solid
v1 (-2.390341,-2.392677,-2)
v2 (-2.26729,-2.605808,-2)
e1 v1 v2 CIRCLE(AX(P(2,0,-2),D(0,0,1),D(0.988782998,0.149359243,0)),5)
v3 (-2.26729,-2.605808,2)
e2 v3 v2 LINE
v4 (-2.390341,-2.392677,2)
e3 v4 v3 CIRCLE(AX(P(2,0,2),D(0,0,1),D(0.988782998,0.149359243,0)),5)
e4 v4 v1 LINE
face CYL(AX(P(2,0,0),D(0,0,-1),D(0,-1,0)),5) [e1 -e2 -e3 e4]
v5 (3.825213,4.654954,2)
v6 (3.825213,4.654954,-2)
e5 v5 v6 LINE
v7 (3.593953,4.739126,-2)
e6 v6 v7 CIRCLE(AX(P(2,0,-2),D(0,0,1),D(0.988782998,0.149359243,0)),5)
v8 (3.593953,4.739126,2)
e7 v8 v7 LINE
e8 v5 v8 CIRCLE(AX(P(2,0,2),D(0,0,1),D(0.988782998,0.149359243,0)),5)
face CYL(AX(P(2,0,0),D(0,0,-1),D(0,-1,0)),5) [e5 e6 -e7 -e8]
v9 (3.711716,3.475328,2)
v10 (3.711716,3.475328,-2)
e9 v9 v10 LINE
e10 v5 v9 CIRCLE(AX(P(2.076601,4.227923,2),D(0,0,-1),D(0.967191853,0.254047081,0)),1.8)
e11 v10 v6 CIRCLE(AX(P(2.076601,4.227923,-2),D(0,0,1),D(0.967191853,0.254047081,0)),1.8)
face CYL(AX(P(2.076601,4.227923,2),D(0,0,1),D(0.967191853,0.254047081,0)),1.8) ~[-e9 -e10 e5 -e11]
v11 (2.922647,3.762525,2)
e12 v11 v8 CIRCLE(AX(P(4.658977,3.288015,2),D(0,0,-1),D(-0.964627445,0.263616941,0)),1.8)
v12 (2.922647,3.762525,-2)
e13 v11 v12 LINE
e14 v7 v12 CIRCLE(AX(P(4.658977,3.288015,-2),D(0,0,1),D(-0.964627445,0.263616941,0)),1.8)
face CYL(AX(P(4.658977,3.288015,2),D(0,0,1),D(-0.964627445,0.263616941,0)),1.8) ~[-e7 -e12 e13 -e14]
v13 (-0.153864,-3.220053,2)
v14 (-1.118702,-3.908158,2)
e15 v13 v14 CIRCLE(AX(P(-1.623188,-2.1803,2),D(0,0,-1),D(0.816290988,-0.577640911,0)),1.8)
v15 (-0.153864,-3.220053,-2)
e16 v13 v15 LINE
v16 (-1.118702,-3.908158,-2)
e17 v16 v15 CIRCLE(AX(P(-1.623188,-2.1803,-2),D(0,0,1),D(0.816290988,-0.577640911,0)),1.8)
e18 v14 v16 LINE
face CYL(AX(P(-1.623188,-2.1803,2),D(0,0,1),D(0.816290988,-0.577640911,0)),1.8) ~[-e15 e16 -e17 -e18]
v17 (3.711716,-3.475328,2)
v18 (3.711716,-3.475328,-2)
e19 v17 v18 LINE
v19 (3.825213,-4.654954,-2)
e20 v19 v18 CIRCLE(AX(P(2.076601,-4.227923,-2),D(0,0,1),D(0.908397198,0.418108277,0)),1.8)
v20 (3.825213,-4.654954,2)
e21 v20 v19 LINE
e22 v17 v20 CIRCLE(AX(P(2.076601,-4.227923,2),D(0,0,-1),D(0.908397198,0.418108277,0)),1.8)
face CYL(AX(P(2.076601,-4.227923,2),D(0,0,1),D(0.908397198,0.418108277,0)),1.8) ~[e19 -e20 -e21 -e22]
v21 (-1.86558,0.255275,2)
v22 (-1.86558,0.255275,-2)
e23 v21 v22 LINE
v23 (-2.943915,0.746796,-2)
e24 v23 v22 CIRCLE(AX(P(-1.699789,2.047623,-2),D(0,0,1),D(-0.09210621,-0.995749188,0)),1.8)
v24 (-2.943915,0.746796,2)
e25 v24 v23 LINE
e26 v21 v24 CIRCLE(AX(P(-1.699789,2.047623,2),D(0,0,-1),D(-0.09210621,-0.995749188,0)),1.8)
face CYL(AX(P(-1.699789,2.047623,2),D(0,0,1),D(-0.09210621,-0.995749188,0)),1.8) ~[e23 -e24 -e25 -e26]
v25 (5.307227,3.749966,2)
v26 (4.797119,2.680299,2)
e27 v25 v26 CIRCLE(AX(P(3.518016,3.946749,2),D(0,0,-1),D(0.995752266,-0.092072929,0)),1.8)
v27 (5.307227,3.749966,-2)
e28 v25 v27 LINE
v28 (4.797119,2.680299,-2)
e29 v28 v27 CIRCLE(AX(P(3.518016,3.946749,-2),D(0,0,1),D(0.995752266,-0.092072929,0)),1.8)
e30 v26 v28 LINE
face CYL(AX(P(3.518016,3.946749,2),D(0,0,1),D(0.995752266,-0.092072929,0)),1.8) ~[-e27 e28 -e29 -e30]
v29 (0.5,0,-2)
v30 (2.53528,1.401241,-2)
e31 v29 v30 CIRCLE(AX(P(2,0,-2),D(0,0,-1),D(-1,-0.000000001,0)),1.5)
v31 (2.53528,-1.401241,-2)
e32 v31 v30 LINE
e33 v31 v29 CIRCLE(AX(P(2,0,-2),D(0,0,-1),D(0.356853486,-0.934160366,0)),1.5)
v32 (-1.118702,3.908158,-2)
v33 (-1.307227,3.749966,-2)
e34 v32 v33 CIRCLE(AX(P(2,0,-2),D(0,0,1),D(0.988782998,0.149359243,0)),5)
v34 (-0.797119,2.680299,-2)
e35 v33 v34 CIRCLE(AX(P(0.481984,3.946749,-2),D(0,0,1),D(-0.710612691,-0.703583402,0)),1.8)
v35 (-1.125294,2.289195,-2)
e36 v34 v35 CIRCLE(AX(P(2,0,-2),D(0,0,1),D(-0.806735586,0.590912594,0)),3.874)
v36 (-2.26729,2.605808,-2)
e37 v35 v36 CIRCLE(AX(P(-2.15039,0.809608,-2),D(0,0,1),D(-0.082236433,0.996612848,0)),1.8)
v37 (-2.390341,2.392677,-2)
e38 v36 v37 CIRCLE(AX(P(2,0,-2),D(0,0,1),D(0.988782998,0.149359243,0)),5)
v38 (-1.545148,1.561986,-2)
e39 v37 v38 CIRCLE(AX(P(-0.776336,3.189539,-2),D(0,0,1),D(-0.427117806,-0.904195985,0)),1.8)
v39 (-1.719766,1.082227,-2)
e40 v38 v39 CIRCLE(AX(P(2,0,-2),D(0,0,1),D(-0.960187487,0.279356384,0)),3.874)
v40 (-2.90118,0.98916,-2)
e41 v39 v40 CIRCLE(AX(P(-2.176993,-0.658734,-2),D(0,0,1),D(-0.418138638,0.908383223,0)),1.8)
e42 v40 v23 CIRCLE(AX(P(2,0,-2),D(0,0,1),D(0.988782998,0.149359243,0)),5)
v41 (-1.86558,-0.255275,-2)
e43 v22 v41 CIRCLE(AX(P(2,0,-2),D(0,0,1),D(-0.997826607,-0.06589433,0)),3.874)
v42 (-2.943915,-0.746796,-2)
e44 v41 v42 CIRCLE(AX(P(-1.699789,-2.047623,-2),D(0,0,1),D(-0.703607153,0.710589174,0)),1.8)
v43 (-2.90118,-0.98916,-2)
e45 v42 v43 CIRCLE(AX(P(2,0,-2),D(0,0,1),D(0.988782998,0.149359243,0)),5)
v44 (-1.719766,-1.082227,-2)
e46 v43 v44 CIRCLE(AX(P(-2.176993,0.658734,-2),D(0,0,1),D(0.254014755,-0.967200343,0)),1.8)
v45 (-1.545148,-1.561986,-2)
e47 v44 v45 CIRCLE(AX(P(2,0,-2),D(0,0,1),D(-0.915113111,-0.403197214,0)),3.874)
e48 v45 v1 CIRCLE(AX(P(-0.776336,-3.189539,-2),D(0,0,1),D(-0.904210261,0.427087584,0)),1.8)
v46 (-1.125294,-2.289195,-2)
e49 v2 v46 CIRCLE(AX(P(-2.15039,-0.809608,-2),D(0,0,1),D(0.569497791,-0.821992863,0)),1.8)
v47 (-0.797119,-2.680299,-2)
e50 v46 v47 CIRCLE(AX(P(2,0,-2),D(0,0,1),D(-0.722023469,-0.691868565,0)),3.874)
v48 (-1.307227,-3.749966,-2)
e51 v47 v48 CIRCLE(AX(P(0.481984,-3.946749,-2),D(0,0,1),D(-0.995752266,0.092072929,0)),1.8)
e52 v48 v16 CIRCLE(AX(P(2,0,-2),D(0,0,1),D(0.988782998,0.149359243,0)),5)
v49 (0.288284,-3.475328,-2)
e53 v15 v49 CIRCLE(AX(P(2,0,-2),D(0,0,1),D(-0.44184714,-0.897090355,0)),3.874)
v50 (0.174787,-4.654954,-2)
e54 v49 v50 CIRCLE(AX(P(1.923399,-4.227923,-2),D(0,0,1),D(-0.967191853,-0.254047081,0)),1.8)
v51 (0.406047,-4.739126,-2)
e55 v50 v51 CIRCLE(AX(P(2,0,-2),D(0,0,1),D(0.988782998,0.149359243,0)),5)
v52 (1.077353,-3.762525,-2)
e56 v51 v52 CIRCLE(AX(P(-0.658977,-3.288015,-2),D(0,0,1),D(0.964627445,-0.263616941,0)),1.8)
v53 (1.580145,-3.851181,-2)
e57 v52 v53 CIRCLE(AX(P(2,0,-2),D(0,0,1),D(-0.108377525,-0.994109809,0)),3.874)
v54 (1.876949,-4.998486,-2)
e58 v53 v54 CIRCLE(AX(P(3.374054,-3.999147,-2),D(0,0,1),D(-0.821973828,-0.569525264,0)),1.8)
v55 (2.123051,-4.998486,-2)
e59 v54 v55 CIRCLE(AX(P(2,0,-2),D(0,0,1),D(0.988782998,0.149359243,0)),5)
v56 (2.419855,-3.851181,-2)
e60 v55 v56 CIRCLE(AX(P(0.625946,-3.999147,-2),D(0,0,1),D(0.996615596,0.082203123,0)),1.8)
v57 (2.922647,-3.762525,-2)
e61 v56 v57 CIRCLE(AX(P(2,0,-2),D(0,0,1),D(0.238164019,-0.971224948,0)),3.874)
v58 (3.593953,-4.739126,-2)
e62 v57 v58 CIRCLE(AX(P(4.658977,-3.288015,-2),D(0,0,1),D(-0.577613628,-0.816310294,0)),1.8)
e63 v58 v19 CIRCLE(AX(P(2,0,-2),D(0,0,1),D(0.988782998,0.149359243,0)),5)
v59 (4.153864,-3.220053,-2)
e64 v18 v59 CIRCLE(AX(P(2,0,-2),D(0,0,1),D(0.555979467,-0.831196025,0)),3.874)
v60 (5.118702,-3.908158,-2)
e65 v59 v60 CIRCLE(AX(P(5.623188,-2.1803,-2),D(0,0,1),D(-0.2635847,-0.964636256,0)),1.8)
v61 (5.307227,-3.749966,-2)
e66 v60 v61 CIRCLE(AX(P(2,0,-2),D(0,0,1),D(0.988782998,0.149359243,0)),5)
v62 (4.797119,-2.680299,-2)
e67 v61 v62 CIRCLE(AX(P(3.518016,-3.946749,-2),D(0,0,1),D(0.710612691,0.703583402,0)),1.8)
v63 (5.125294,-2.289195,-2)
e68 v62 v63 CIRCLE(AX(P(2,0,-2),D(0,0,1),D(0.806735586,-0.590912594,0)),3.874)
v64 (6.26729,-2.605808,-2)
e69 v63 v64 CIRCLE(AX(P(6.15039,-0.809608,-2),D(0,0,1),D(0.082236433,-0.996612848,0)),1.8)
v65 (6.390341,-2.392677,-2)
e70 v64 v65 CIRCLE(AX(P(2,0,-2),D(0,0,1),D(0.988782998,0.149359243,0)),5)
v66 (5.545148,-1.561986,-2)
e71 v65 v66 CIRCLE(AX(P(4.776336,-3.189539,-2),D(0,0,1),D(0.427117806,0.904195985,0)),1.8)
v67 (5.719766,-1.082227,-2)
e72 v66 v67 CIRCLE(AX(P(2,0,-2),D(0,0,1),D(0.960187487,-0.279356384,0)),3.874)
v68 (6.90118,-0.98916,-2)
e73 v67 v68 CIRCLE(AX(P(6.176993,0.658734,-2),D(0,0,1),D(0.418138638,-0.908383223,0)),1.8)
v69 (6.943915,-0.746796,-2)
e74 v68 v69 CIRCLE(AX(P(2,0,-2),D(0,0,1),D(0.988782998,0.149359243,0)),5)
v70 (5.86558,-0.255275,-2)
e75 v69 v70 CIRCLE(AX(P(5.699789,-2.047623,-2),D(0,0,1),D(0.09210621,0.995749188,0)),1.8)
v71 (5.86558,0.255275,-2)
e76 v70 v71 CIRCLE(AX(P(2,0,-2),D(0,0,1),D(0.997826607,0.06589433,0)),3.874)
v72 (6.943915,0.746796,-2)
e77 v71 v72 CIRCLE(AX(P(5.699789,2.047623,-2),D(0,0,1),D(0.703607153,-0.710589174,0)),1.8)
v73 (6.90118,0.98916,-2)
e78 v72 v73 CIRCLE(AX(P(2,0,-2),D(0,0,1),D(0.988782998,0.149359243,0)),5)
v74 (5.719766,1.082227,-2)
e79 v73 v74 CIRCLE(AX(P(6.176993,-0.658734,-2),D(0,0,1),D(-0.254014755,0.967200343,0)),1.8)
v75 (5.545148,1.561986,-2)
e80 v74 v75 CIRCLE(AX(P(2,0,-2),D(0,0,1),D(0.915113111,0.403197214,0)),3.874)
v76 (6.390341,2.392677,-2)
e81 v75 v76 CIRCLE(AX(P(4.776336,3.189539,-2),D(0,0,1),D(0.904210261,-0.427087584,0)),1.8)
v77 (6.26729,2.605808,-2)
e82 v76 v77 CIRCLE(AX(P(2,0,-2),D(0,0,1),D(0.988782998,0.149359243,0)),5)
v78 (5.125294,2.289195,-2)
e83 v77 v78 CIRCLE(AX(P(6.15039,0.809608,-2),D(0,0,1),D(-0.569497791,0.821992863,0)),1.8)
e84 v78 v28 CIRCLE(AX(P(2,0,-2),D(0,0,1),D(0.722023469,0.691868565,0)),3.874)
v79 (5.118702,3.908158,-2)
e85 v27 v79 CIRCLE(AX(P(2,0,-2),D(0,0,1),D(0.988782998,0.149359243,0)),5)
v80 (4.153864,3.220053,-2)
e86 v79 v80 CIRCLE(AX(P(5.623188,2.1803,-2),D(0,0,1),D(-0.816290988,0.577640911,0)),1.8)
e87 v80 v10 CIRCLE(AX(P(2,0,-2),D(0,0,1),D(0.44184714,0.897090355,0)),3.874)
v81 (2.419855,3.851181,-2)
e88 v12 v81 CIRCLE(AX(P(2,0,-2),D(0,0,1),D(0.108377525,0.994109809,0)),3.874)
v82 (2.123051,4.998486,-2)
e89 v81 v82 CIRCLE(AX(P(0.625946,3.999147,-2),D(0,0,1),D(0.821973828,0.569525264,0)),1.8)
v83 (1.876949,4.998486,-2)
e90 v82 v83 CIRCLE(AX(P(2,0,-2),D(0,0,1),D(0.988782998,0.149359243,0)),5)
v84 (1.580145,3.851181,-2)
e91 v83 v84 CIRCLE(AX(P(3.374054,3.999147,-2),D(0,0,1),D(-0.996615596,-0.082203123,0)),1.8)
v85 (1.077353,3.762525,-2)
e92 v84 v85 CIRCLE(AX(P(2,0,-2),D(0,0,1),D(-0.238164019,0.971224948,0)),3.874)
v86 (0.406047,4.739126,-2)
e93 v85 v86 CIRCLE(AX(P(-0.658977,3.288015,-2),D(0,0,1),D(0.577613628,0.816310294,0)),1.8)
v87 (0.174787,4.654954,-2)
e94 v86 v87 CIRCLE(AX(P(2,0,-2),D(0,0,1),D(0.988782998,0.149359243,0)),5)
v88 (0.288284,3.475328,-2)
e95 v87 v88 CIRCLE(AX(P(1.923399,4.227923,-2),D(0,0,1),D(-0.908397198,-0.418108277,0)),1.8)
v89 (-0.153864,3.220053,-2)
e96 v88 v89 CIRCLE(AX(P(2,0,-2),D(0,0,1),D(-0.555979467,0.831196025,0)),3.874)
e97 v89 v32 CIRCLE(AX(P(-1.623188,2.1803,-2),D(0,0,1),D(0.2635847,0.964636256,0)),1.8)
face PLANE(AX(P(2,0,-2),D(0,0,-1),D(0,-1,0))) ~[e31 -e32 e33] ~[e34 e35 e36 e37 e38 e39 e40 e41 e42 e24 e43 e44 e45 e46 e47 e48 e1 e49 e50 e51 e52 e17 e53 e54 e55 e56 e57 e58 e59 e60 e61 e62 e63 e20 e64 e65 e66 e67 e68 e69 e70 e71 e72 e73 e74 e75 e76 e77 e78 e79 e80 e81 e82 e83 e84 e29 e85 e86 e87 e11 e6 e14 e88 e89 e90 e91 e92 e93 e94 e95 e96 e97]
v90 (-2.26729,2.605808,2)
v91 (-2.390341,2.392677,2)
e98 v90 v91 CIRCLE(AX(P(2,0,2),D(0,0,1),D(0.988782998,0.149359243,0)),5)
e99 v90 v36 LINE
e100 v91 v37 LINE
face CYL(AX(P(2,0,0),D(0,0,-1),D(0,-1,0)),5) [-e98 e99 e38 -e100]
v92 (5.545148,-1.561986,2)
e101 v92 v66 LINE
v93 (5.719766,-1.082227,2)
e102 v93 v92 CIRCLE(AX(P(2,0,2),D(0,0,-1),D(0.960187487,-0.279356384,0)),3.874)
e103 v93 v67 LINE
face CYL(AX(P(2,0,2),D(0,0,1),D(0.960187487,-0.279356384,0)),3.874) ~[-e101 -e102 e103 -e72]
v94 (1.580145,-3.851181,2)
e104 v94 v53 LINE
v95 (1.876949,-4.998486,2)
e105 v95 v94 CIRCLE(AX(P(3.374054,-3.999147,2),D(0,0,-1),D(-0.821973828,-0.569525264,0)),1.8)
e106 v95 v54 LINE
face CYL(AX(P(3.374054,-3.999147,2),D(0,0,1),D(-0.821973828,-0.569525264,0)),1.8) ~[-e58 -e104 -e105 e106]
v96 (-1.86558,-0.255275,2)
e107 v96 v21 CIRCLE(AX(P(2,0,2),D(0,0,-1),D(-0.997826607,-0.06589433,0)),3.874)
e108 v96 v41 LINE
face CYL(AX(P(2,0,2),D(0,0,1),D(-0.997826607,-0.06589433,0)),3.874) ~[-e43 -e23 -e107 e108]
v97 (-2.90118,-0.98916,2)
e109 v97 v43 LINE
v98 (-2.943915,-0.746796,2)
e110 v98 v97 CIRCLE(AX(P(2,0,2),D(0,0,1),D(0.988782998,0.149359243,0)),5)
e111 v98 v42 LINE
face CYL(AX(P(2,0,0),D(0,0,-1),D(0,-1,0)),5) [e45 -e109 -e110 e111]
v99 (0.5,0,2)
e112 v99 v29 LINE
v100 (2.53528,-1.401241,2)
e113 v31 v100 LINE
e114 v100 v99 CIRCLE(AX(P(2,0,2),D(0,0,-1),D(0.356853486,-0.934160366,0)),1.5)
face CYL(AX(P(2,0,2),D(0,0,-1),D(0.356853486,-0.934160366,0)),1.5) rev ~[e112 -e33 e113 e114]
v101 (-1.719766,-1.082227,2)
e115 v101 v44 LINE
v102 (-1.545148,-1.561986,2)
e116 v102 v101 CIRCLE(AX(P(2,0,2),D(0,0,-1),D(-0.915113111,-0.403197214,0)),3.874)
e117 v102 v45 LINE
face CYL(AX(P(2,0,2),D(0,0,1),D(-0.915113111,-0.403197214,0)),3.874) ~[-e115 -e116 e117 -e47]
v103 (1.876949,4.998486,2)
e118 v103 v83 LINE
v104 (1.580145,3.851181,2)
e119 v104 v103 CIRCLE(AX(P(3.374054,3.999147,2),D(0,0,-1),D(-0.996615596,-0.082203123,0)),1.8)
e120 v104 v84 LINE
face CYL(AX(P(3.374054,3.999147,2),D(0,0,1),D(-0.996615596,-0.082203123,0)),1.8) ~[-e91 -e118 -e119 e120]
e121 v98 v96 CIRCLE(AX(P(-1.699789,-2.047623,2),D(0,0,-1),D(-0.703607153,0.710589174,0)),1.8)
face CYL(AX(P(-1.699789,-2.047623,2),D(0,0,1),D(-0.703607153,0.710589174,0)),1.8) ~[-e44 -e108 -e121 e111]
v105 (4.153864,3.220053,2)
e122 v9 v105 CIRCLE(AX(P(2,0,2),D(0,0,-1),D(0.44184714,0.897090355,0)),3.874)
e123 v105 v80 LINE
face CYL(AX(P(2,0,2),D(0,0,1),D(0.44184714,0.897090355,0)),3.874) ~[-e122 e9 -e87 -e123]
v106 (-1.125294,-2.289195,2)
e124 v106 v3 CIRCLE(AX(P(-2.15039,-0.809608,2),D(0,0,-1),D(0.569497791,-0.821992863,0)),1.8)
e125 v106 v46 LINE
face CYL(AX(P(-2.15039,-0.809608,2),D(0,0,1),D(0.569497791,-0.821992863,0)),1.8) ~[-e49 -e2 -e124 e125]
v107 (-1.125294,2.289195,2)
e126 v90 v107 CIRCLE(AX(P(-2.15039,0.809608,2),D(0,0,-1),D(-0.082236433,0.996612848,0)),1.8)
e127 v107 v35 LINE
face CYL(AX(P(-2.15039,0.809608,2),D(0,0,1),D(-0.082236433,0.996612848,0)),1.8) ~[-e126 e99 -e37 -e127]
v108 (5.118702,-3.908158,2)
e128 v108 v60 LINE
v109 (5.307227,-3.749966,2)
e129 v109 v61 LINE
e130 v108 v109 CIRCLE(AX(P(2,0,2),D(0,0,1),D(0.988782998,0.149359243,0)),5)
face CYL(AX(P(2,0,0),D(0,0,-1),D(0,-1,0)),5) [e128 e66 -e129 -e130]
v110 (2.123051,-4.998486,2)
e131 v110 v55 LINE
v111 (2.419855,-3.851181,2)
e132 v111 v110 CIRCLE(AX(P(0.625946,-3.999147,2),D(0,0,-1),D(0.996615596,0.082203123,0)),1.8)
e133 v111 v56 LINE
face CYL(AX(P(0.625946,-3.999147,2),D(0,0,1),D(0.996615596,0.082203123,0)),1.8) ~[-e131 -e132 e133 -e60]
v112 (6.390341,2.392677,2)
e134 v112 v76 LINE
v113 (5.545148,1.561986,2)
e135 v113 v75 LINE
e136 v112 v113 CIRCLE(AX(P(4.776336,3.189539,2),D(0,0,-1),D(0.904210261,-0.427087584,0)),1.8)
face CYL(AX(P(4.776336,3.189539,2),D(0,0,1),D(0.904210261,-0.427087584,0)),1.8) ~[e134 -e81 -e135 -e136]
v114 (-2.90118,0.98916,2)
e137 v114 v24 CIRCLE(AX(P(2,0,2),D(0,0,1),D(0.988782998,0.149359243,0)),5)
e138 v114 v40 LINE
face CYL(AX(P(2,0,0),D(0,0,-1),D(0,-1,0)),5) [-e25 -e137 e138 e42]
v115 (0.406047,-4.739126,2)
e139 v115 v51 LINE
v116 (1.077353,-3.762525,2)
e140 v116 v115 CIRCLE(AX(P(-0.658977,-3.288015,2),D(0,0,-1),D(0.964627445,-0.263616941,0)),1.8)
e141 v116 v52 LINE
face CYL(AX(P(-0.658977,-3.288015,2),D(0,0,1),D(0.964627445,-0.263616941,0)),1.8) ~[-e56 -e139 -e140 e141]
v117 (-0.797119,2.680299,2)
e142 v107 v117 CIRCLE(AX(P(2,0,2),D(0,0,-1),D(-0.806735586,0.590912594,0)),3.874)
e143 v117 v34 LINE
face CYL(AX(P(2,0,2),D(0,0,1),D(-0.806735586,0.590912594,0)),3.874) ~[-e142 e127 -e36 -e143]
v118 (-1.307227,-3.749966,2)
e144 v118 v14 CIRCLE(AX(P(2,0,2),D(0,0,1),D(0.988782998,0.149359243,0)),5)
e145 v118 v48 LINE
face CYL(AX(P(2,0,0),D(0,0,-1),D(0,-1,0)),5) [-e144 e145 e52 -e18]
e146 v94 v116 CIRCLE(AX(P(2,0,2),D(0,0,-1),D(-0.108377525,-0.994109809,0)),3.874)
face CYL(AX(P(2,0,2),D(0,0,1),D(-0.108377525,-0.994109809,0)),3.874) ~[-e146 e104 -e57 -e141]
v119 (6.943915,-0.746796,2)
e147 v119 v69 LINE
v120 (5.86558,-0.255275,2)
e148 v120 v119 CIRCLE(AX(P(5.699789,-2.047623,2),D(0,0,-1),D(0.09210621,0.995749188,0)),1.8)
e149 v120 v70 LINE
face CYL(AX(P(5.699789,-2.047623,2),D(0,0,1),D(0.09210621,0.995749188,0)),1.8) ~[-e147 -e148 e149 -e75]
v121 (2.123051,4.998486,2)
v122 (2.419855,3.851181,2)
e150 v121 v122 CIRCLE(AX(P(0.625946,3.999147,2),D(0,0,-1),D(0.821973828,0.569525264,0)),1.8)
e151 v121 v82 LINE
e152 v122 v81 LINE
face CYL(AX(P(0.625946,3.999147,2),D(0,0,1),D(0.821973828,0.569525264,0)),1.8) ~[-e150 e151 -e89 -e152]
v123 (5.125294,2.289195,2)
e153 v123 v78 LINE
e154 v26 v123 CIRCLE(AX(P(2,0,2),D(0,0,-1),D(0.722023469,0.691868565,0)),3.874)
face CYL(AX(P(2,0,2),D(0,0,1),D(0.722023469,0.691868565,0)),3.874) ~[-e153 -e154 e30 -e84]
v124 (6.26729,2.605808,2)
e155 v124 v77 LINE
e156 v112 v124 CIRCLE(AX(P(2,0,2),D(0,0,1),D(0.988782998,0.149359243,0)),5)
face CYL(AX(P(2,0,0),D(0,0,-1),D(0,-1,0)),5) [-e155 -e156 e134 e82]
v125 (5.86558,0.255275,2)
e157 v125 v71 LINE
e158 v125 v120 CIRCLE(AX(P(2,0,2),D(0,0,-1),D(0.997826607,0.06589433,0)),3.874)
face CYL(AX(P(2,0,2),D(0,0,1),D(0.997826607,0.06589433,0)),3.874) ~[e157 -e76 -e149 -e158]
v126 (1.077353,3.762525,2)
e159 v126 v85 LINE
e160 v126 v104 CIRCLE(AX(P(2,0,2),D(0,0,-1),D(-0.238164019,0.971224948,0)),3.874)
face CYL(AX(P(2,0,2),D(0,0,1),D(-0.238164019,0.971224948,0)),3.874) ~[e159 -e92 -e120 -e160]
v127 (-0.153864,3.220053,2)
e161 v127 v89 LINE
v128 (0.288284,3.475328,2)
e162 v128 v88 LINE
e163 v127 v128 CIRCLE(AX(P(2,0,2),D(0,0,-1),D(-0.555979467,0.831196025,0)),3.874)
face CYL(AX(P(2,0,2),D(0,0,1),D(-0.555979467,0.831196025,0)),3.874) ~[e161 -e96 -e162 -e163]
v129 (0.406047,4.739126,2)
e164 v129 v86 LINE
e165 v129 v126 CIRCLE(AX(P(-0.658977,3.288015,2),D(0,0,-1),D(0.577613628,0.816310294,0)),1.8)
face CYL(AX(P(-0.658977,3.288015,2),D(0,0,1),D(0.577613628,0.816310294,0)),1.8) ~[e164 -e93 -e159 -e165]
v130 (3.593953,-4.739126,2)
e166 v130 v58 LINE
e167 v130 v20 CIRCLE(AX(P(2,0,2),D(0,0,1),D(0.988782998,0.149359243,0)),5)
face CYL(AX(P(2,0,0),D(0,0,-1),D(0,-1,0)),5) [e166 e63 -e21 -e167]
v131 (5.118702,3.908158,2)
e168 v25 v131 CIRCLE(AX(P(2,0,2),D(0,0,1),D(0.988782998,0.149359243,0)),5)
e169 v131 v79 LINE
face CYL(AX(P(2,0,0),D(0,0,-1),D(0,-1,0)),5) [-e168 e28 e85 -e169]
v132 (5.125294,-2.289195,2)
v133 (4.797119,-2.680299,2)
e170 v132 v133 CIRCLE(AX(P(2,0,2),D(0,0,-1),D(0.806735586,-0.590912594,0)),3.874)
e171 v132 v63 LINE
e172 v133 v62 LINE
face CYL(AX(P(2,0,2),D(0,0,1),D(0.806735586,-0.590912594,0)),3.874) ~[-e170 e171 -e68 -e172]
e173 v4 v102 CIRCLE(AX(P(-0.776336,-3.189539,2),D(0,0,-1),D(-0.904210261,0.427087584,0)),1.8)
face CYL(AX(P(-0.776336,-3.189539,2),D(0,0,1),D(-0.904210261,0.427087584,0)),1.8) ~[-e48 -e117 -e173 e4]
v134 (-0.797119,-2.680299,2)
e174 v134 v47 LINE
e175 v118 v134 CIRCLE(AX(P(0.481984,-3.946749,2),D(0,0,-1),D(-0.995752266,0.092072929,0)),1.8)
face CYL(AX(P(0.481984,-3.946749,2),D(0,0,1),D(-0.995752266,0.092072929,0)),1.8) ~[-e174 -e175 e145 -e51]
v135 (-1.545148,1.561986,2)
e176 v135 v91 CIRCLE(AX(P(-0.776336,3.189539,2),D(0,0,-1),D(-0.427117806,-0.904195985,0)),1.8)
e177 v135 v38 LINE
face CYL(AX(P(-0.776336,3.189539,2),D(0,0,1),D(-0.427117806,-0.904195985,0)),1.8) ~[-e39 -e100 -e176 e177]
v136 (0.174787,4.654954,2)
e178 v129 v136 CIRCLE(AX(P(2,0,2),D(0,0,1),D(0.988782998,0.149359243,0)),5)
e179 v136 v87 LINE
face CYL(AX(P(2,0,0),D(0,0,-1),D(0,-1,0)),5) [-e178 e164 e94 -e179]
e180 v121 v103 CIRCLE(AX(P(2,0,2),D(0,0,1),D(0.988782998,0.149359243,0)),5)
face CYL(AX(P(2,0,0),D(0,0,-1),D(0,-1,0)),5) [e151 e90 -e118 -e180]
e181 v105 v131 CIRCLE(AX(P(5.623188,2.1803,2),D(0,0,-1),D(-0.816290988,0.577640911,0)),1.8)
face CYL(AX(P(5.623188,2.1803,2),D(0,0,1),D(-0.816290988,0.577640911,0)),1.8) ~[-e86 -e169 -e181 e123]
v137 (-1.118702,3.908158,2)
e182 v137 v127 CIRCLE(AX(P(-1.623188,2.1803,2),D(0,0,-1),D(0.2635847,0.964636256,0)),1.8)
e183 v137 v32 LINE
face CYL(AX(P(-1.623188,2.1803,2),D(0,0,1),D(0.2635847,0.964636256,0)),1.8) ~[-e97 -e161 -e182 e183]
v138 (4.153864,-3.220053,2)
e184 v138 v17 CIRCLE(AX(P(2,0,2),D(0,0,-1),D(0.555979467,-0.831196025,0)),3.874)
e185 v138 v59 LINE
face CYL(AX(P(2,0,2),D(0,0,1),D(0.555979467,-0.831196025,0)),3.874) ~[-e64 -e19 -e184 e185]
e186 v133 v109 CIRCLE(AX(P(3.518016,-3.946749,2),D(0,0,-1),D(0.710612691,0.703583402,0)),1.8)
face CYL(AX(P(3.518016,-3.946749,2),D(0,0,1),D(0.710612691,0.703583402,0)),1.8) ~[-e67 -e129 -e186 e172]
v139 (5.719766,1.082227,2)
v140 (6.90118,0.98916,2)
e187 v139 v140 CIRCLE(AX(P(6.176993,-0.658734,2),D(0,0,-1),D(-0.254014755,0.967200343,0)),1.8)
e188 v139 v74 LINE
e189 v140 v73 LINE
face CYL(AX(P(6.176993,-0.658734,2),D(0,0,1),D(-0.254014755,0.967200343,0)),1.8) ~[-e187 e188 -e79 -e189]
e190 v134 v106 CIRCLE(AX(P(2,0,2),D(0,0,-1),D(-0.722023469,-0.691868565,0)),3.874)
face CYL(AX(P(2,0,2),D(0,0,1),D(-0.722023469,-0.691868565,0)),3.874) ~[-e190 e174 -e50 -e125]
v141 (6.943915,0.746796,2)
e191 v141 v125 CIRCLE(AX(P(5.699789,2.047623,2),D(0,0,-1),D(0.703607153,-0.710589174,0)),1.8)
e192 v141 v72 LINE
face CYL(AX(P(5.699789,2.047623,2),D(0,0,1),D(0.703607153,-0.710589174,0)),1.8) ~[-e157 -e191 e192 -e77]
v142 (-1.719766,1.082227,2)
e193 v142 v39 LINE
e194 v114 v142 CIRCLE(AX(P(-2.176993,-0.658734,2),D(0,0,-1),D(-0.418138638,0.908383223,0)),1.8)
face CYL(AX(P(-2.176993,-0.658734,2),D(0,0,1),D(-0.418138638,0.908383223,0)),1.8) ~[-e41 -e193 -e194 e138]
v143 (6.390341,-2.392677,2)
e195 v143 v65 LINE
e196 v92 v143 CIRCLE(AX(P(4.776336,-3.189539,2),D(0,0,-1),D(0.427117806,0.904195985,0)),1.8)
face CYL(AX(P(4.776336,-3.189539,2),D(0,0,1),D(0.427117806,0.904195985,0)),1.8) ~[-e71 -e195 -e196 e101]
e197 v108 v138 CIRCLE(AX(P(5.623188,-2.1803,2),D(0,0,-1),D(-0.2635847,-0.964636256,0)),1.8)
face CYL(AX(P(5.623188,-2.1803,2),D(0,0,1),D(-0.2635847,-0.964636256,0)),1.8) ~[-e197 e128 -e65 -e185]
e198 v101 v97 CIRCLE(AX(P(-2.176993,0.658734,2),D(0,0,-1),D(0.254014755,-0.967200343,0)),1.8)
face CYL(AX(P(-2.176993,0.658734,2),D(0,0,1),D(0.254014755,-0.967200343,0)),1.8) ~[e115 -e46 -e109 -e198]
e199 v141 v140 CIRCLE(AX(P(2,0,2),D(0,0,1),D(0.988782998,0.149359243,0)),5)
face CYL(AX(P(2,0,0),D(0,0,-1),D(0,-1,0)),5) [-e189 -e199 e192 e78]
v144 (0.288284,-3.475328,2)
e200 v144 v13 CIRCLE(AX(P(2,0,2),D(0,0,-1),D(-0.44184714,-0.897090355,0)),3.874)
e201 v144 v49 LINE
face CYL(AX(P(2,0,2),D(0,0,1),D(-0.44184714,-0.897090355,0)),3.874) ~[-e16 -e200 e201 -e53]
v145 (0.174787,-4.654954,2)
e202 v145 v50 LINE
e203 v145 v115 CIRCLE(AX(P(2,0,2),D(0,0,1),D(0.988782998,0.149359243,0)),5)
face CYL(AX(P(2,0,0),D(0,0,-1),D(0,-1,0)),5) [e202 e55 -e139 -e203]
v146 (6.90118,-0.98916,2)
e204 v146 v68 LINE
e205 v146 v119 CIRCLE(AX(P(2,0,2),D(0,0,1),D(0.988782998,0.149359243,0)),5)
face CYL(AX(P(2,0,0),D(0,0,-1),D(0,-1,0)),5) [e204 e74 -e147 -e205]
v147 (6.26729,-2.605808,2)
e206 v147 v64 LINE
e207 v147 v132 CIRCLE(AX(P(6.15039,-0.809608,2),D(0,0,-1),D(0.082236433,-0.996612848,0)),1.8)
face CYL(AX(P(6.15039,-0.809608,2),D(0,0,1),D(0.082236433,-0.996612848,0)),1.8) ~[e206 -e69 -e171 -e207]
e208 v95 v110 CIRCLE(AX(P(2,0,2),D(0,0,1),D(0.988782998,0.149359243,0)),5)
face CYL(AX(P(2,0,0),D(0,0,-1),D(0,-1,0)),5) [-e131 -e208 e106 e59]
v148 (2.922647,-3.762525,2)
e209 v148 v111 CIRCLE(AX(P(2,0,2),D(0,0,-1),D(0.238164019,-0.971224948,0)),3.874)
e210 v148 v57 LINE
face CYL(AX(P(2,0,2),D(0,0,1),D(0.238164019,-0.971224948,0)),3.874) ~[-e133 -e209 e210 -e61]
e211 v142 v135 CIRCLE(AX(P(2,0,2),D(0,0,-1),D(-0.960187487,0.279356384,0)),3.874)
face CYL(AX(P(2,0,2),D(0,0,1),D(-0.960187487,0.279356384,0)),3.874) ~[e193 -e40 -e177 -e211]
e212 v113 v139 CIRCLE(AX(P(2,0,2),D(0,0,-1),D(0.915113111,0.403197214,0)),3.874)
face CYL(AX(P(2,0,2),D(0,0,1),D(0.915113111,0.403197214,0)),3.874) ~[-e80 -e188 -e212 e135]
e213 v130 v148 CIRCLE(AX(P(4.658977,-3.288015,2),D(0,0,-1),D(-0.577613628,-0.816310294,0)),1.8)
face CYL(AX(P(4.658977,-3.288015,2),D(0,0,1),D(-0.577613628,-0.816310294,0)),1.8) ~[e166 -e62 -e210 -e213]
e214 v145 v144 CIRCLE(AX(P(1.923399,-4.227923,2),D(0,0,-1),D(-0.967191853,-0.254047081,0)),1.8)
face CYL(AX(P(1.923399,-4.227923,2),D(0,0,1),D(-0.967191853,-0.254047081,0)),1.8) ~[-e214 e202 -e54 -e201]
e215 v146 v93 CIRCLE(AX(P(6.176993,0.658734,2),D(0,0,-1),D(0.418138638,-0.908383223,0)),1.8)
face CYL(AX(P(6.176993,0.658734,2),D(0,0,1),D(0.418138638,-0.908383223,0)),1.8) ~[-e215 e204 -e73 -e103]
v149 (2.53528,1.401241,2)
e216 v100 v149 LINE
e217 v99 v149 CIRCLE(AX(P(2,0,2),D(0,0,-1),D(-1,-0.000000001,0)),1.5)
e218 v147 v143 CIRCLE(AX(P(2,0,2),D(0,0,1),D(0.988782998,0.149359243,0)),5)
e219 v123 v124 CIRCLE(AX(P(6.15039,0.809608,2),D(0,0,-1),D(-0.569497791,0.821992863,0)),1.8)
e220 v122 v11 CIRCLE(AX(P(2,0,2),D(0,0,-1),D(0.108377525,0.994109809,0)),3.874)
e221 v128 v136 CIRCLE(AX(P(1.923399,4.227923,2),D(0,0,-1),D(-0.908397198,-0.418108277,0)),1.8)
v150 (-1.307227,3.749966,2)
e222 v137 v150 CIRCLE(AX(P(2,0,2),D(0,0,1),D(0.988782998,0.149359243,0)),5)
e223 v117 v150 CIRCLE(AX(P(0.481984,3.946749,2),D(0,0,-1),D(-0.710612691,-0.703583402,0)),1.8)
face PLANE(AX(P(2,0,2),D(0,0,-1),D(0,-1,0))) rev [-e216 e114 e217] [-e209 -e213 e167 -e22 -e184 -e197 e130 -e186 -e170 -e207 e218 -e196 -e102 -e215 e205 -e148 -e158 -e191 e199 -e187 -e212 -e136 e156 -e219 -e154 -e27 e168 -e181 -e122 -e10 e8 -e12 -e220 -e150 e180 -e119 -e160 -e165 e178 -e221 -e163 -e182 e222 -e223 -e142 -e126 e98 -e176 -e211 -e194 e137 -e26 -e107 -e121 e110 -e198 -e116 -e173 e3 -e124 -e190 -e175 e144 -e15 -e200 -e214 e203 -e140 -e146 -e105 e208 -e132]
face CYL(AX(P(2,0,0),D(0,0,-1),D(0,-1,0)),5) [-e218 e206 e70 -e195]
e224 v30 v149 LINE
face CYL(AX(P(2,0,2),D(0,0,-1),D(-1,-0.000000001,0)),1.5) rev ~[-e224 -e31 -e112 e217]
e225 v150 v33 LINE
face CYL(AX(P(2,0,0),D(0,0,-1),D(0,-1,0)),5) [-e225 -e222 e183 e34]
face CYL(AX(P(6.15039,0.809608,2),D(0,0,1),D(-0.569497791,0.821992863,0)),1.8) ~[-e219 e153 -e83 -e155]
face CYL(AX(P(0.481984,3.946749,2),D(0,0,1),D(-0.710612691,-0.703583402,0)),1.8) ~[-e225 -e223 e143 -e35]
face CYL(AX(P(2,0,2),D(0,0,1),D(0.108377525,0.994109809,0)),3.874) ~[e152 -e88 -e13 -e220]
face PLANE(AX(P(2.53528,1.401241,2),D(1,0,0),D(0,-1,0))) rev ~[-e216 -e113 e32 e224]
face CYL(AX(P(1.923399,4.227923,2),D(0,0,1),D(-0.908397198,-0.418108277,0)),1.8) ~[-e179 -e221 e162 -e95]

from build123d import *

# Parameters (mm, degrees)
BASPROSKE_W           = 4
BASPROSKE_H           = 5
TOOTHCUT_DEPTH        = 9.124038405
TEETHCUTS_COUNT       = 18
TEETHCUTS_ANGLE       = 340
BORE_DEPTH            = 50.0000508
BODY_MOVE_COPY1_ANGLE = 90
BODY_MOVE_COPY2_ANGLE = 90


with BuildPart() as part:
    # BasProSke → Base-Revolve (revolve)
    with BuildSketch(Plane(origin=(0, 0, 0), x_dir=(1, 0, 0), z_dir=(0, 1, 0)), mode=Mode.PRIVATE) as base_revolve_sk:
        with Locations((2, 2.5)):
            Rectangle(BASPROSKE_W, BASPROSKE_H)
    revolve(base_revolve_sk.sketch.rotate(Axis((-10, 0, 0), (1, 0, 0)), 180), axis=Axis((-10, 0, 0), (1, 0, 0)))

    # TooCutSke → ToothCut (cut, through all)
    with BuildSketch(Plane(origin=(0, 0, 0), x_dir=(0, 0, -1), z_dir=(1, 0, 0))):
        with BuildLine():
            ThreePointArc((0.25527463, 3.865580275), (0, 3.874), (-0.25527463, 3.865580275))
            ThreePointArc((-0.25527463, 3.865580275), (-0.416281865, 4.46052923), (-0.768562654, 4.96628197))
            ThreePointArc((-0.768562654, 4.96628197), (0, 5.0254), (0.768562654, 4.96628197))
            ThreePointArc((0.768562654, 4.96628197), (0.416281865, 4.46052923), (0.25527463, 3.865580275))
        make_face()
    toothcut = extrude(amount=TOOTHCUT_DEPTH, mode=Mode.SUBTRACT)

    # TeethCuts: ToothCut ×18 about axis
    teethcuts_axis = Axis((-10, 0, 0), (1, 0, 0))
    for i in range(1, TEETHCUTS_COUNT):
        add(toothcut.rotate(teethcuts_axis, i * TEETHCUTS_ANGLE / (TEETHCUTS_COUNT - 1)), mode=Mode.SUBTRACT)

    # BorSke → Bore (cut, symmetric)
    with BuildSketch(Plane(origin=(0, 0, 0), x_dir=(0, 0, -1), z_dir=(1, 0, 0))):
        with BuildLine():
            ThreePointArc((-1.401240549, 0.535280228), (-1.235499968, -0.850611444), (0, -1.5))
            Line((0, -1.5), (0, 0.535280228))
            Line((0, 0.535280228), (-1.401240549, 0.535280228))
        make_face()
        with BuildLine():
            Line((0, 0.535280228), (0, -1.5))
            ThreePointArc((0, -1.5), (1.060660172, -1.060660172), (1.5, 0))
            ThreePointArc((1.5, 0), (1.475103526, 0.272157285), (1.401240549, 0.535280228))
            Line((1.401240549, 0.535280228), (0, 0.535280228))
        make_face()
    extrude(amount=BORE_DEPTH, both=True, mode=Mode.SUBTRACT)


with BuildPart() as part_1:
    # Body-Move/Copy1: moved
    add(part.part.rotate(Axis((2, 0, 0), (0, 0, -1)), BODY_MOVE_COPY1_ANGLE))


with BuildPart() as part_2:
    # Body-Move/Copy2: moved
    add(part_1.part.rotate(Axis((0, 0, 0), (1, 0, 0)), BODY_MOVE_COPY2_ANGLE))


solid = part_2.part
